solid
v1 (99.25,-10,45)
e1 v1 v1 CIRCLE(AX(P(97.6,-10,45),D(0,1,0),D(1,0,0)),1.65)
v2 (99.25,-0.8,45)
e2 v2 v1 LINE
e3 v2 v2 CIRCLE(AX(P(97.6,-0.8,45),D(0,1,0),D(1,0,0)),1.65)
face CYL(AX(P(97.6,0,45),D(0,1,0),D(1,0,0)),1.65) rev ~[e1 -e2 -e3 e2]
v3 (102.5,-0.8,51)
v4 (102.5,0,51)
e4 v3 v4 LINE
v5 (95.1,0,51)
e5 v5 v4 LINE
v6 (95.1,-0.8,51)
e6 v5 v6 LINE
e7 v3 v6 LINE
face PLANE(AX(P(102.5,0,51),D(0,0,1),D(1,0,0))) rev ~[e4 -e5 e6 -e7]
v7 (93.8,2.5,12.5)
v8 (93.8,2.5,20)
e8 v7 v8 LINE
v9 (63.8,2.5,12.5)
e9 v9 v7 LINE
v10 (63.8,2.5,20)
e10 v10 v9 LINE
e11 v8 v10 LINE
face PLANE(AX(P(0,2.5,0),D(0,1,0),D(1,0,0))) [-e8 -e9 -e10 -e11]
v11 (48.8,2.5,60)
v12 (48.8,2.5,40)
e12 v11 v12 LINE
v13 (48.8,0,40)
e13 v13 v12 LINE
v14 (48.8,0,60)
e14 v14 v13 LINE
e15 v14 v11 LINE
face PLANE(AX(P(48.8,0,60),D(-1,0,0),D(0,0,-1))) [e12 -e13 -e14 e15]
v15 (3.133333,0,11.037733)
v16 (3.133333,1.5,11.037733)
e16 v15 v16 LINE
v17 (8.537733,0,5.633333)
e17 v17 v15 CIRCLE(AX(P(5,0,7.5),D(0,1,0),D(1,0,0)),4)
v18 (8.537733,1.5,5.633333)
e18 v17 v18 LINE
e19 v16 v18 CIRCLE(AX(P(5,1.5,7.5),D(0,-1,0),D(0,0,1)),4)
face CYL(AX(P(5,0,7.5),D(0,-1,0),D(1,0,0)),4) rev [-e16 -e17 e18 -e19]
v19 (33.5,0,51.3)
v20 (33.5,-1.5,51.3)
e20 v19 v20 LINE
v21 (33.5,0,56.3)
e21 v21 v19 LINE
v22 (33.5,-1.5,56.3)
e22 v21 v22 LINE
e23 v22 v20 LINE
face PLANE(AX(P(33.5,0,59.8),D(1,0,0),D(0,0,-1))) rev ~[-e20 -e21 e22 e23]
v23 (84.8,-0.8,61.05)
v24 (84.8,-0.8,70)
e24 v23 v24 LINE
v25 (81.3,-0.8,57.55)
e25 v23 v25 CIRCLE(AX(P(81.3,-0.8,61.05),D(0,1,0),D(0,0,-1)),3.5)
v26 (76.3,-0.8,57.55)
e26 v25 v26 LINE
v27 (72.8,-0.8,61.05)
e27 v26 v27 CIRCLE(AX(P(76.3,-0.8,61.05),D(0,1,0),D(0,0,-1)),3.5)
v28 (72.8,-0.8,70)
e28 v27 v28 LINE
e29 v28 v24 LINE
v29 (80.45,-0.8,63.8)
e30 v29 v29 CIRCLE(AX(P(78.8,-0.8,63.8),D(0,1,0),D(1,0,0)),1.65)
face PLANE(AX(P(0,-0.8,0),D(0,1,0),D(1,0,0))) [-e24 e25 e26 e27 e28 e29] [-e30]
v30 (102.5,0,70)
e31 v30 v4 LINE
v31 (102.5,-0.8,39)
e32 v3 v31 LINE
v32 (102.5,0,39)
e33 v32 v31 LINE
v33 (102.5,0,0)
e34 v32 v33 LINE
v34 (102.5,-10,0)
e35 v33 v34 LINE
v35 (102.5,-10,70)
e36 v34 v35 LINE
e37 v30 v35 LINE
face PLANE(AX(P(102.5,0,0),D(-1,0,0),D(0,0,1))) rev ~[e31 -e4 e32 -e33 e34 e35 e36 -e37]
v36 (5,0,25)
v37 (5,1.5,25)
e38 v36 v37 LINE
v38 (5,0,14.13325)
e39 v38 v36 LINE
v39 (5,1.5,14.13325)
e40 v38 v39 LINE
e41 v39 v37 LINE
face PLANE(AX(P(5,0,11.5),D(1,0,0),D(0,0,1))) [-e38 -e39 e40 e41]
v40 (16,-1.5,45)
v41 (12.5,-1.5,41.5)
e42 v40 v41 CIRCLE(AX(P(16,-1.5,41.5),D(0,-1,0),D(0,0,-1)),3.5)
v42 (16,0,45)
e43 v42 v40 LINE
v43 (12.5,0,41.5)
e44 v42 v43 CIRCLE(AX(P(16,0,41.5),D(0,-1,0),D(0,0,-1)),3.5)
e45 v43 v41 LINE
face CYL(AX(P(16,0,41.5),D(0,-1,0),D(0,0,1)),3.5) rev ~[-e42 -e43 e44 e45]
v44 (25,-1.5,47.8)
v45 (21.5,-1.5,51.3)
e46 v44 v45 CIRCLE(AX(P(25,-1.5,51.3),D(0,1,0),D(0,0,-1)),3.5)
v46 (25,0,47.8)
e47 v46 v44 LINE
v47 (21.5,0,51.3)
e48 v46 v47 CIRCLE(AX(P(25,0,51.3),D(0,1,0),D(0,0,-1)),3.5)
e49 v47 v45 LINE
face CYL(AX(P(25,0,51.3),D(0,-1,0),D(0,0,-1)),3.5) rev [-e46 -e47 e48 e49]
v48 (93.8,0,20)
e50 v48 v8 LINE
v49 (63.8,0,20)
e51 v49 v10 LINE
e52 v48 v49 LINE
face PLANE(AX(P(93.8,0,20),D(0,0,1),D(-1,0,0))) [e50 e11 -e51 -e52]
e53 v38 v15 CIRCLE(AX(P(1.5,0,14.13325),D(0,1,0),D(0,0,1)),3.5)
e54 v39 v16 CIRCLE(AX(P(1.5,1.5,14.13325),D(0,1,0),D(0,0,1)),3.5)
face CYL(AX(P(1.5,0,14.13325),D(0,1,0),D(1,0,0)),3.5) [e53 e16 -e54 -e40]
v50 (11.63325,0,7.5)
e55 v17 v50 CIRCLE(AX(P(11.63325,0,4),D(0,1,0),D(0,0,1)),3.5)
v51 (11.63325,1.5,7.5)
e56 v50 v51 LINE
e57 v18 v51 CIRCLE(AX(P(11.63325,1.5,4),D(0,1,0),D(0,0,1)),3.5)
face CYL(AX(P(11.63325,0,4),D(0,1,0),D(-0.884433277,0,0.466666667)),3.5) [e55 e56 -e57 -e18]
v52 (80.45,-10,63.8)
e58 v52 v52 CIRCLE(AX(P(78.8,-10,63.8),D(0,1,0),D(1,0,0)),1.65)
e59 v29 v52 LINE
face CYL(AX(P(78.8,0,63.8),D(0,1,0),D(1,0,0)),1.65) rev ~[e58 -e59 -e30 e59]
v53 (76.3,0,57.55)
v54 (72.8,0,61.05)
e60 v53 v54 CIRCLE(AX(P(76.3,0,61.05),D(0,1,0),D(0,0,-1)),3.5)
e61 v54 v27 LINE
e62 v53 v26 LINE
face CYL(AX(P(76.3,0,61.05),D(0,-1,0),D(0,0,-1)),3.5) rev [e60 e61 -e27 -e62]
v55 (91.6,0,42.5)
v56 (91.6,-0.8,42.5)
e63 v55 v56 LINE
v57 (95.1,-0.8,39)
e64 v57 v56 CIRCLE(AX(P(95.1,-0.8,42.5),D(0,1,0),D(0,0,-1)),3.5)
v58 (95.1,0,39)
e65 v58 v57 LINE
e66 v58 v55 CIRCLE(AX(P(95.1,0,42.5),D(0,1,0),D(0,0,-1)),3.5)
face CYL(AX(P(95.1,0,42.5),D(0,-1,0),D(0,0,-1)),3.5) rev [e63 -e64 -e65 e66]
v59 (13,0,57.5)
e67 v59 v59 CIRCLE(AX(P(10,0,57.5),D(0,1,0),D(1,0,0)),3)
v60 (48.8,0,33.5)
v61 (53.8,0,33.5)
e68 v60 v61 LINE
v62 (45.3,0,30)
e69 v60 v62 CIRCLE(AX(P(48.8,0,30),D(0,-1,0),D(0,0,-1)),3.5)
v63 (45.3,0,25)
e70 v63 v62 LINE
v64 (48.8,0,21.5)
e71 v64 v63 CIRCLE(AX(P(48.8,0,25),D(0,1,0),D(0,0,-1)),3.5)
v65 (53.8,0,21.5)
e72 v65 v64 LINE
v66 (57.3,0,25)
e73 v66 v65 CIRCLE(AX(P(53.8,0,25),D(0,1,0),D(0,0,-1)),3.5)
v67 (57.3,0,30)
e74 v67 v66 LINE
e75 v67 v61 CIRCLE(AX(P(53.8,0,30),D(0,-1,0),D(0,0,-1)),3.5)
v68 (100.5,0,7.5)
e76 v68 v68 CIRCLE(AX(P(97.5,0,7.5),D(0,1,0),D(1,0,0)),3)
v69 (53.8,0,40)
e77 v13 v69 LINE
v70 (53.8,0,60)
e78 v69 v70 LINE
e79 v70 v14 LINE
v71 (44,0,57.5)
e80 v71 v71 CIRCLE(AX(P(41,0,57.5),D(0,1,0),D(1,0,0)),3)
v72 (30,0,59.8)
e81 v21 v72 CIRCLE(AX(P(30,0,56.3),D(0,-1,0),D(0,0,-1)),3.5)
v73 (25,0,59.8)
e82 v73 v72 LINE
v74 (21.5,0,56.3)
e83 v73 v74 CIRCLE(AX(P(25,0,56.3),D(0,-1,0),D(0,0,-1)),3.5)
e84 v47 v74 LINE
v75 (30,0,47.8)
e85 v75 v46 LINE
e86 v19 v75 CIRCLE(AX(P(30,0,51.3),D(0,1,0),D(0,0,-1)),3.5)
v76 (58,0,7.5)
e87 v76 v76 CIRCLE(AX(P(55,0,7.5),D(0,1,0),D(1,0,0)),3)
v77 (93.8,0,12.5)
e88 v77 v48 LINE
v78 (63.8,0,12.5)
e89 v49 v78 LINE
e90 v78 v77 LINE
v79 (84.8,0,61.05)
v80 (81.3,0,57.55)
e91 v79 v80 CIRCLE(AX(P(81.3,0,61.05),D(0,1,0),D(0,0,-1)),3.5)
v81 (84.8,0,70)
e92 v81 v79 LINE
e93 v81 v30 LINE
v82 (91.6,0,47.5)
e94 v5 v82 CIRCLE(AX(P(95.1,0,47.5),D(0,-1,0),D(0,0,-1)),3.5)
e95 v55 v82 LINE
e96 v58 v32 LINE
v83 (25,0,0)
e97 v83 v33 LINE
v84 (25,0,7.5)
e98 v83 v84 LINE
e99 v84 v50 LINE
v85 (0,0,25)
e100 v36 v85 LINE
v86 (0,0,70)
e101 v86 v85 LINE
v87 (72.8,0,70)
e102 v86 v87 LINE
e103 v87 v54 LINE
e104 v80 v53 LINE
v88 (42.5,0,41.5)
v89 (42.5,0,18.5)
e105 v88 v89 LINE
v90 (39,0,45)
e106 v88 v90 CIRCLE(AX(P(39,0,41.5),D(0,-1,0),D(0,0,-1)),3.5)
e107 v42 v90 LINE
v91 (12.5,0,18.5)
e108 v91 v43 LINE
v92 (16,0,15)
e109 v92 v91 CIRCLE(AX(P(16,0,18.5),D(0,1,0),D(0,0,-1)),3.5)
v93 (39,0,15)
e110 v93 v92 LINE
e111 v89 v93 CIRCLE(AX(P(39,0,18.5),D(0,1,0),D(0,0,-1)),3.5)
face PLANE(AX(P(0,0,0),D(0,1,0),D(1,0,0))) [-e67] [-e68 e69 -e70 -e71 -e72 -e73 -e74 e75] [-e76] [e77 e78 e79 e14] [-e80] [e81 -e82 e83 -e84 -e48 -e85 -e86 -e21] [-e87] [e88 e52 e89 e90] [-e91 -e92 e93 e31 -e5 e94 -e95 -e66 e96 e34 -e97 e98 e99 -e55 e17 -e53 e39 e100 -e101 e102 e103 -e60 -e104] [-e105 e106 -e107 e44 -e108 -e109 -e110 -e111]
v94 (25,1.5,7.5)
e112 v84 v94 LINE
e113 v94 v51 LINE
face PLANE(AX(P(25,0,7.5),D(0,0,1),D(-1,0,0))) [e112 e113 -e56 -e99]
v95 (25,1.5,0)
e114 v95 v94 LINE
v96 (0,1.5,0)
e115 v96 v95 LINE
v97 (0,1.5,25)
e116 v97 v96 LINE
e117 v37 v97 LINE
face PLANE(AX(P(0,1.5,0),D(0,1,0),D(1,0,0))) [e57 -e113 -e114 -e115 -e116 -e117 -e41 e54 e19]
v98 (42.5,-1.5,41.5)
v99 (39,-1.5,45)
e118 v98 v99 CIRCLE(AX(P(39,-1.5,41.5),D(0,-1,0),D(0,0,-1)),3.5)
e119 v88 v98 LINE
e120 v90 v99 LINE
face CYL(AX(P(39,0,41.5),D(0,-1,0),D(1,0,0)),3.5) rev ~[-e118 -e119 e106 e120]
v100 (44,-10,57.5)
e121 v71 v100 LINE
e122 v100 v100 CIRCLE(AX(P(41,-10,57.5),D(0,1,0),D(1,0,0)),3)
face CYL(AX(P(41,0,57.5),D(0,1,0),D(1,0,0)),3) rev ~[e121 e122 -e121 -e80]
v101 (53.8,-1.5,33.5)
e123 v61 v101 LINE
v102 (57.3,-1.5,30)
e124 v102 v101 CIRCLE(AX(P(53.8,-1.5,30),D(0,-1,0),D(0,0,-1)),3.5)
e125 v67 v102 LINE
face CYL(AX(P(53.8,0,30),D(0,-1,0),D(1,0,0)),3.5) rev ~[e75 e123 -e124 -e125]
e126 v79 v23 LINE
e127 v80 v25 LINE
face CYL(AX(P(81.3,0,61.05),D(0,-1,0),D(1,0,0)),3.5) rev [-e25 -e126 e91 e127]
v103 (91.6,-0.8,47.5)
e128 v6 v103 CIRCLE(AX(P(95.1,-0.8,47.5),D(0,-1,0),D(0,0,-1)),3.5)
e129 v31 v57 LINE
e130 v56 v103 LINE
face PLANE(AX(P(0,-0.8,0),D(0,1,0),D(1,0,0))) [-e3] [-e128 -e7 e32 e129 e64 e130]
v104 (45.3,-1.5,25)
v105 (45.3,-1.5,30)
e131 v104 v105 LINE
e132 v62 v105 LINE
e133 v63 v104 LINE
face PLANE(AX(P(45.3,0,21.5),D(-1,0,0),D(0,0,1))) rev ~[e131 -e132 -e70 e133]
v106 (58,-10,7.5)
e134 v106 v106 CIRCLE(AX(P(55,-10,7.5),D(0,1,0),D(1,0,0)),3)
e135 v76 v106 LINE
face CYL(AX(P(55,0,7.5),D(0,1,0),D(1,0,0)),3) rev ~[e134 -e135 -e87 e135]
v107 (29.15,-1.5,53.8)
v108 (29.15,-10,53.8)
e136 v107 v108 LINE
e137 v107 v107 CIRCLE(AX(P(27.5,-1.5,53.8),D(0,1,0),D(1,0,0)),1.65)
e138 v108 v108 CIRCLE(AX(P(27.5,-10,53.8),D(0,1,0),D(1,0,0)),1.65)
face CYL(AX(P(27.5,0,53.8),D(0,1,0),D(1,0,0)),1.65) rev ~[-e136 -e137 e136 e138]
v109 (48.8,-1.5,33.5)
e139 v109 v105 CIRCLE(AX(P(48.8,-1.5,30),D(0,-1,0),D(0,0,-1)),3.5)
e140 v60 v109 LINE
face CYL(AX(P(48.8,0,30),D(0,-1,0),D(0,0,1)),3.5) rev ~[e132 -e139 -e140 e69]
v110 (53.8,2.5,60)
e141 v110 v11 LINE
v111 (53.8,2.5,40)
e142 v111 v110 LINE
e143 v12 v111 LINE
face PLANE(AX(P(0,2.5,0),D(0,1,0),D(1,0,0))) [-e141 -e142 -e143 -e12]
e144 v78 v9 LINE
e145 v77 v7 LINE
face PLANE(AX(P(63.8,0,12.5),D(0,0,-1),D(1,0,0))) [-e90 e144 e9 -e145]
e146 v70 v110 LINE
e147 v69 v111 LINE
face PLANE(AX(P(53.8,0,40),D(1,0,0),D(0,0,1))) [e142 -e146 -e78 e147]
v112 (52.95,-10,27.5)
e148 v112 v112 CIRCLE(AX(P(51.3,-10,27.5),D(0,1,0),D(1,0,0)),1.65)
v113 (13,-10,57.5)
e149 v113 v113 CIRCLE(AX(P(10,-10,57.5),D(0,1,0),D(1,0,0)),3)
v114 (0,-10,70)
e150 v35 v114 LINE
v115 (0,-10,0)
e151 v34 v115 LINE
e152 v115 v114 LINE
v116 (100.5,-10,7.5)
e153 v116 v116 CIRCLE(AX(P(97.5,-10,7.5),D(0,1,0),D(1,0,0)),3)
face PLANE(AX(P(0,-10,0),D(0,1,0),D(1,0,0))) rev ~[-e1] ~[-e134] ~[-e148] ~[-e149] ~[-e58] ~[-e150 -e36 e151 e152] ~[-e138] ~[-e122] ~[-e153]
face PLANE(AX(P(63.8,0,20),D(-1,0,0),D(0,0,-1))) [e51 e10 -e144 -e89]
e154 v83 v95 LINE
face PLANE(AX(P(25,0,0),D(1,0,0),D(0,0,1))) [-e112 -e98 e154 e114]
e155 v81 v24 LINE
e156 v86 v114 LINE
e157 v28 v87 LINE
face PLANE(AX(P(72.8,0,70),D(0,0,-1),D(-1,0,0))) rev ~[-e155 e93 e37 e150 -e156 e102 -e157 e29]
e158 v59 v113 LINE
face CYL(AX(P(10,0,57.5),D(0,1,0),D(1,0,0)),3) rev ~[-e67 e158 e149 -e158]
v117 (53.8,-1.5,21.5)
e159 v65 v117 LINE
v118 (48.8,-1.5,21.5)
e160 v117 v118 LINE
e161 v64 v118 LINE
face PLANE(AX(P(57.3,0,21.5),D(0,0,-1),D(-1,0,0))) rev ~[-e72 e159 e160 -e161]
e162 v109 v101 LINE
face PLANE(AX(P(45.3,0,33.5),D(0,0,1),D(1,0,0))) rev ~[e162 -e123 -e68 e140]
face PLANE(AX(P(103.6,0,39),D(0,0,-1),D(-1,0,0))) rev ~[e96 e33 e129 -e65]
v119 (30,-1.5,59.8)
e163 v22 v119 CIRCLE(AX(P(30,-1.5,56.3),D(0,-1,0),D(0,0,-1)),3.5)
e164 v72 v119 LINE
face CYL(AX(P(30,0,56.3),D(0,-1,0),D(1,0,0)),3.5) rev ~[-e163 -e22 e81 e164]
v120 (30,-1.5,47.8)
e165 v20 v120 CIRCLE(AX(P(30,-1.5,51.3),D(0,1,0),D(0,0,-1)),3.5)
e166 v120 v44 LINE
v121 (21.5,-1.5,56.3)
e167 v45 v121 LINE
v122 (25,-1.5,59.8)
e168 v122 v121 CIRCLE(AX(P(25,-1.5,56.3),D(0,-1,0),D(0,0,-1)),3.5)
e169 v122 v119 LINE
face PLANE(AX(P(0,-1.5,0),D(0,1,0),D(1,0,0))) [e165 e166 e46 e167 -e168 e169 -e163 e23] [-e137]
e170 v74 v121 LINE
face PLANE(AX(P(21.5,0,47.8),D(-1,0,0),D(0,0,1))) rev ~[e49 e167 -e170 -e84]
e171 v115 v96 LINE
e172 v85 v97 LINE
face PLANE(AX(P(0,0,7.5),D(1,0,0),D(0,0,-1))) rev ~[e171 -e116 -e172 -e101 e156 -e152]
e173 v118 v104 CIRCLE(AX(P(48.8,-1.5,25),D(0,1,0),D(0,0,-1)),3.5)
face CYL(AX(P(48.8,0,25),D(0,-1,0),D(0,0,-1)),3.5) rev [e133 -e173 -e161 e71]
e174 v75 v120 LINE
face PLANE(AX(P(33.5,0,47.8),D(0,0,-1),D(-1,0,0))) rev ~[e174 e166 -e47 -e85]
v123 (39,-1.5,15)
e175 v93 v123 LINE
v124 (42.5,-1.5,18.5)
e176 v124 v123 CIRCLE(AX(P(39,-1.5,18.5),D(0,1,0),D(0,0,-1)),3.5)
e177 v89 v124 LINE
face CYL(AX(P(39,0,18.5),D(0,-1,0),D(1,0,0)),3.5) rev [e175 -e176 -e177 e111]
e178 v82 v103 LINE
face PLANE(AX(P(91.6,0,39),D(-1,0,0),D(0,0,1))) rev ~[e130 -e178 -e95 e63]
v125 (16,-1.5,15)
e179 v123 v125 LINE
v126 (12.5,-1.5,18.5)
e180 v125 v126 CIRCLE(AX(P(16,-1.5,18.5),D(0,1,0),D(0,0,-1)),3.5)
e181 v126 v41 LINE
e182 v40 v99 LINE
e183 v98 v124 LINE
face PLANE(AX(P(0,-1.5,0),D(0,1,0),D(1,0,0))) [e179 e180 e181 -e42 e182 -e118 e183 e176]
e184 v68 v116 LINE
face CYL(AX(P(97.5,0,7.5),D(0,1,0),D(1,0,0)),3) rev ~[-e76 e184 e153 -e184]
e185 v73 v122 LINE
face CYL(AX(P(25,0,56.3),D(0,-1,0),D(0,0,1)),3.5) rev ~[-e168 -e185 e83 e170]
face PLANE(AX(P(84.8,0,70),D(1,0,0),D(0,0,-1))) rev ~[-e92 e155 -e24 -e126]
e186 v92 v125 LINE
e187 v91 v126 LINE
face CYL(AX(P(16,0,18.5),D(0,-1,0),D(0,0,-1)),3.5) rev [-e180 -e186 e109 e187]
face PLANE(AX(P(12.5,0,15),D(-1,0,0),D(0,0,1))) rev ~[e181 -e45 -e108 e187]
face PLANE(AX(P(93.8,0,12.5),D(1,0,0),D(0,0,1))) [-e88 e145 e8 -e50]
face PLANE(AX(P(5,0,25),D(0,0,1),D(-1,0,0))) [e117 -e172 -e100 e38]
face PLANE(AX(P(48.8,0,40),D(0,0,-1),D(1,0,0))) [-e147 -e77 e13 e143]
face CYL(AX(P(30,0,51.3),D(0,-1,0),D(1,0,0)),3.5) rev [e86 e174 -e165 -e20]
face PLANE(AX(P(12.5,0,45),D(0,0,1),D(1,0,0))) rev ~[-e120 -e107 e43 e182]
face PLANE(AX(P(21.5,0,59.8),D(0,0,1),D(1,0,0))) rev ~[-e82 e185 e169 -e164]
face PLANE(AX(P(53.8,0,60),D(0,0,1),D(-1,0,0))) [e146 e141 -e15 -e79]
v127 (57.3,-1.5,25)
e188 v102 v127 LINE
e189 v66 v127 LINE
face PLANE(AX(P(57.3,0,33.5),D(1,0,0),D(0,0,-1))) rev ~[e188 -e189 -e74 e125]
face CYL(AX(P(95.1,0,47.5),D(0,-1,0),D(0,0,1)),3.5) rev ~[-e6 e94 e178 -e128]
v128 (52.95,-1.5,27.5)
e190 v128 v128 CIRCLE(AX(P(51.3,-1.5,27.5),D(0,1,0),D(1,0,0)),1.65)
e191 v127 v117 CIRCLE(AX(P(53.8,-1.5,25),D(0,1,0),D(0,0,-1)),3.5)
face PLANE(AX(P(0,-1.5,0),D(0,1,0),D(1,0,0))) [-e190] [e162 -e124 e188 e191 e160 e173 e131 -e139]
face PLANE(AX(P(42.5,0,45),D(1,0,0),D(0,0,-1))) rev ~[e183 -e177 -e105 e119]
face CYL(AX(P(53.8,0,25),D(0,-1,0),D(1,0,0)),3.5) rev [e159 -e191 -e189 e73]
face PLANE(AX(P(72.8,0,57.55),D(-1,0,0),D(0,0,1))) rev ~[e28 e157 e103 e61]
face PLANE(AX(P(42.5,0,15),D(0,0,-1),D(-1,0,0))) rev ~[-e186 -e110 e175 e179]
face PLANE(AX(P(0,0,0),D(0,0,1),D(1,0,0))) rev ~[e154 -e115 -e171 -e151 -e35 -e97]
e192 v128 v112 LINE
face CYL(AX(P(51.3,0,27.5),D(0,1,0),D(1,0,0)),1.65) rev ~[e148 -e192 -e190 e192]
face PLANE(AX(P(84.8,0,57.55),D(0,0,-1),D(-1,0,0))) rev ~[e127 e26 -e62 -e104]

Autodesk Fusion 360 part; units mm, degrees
sketch "Skizze1" plane through (0, 0, 0) normal (0, 1, 0) x (1, 0, 0)
  line L0 (0, 0) -> (102.5, 0)
  line L1 (102.5, 0) -> (102.5, -70)
  line L2 (102.5, -70) -> (0, -70)
  line L3 (0, -70) -> (0, 0)
  line L4 (0, 0) -> (5, 0)
  line L5 (5, 0) -> (5, -25)
  line L6 (5, -25) -> (0, -25)
  line L7 (0, -25) -> (0, 0)
  line L8 (0, 0) -> (25, 0)
  line L9 (25, 0) -> (25, -7.5)
  line L10 (25, -7.5) -> (0, -7.5)
  line L11 (0, -7.5) -> (0, 0)
  circle A0 centre (5, -7.5) radius 4
  circle A1 centre (27.5, -53.8) radius 1.65
  circle A2 centre (51.3, -27.5) radius 1.65
  line L12 (55.1, -25.926) -> (52.874, -23.7)
  line L13 (52.874, -23.7) -> (49.726, -23.7)
  line L14 (49.726, -23.7) -> (47.5, -25.926)
  line L15 (47.5, -25.926) -> (47.5, -29.074)
  line L16 (47.5, -29.074) -> (49.726, -31.3)
  line L17 (49.726, -31.3) -> (52.874, -31.3)
  line L18 (52.874, -31.3) -> (55.1, -29.074)
  line L19 (55.1, -29.074) -> (55.1, -25.926)
  line L20 (31.3, -52.226) -> (29.074, -50)
  line L21 (29.074, -50) -> (25.926, -50)
  line L22 (25.926, -50) -> (23.7, -52.226)
  line L23 (23.7, -52.226) -> (23.7, -55.374)
  line L24 (23.7, -55.374) -> (25.926, -57.6)
  line L25 (25.926, -57.6) -> (29.074, -57.6)
  line L26 (29.074, -57.6) -> (31.3, -55.374)
  line L27 (31.3, -55.374) -> (31.3, -52.226)
  line L28 (57.3, -21.5) -> (45.3, -21.5)
  line L29 (45.3, -21.5) -> (45.3, -33.5)
  line L30 (45.3, -33.5) -> (57.3, -33.5)
  line L31 (57.3, -33.5) -> (57.3, -21.5)
  line L32 (57.3, -21.5) -> (45.3, -33.5) construction
  line L33 (45.3, -21.5) -> (57.3, -33.5) construction
  line L34 (33.5, -47.8) -> (21.5, -47.8)
  line L35 (21.5, -47.8) -> (21.5, -59.8)
  line L36 (21.5, -59.8) -> (33.5, -59.8)
  line L37 (33.5, -59.8) -> (33.5, -47.8)
  line L38 (33.5, -47.8) -> (21.5, -59.8) construction
  line L39 (21.5, -47.8) -> (33.5, -59.8) construction
  circle A3 centre (55, -7.5) radius 3
  circle A4 centre (10, -57.5) radius 3
  line L40 (48.8, -40) -> (53.8, -40)
  line L41 (53.8, -40) -> (53.8, -60)
  line L42 (53.8, -60) -> (48.8, -60)
  line L43 (48.8, -60) -> (48.8, -40)
  line L44 (63.8, -12.5) -> (93.8, -12.5)
  line L45 (93.8, -12.5) -> (93.8, -20)
  line L46 (93.8, -20) -> (63.8, -20)
  line L47 (63.8, -20) -> (63.8, -12.5)
  line L48 (77.226, -60) -> (75, -62.226)
  circle A5 centre (78.8, -63.8) radius 1.65
  line L49 (75, -65.374) -> (77.226, -67.6)
  line L50 (80.374, -67.6) -> (82.6, -65.374)
  line L51 (72.8, -57.55) -> (72.8, -70.05)
  line L52 (75, -62.226) -> (75, -65.374)
  line L53 (84.8, -70.05) -> (84.8, -57.55)
  line L54 (84.8, -57.55) -> (72.8, -57.55)
  line L55 (72.8, -57.55) -> (84.8, -70.05) construction
  line L56 (82.6, -62.226) -> (80.374, -60)
  line L57 (77.226, -67.6) -> (80.374, -67.6)
  line L58 (80.374, -60) -> (77.226, -60)
  line L59 (82.6, -65.374) -> (82.6, -62.226)
  line L60 (72.8, -70.05) -> (84.8, -70.05)
  line L61 (84.8, -57.55) -> (72.8, -70.05) construction
  line L62 (96.026, -41.2) -> (93.8, -43.426)
  circle A6 centre (97.6, -45) radius 1.65
  line L63 (93.8, -46.574) -> (96.026, -48.8)
  line L64 (99.174, -48.8) -> (101.4, -46.574)
  line L65 (91.6, -39) -> (91.6, -51)
  line L66 (93.8, -43.426) -> (93.8, -46.574)
  line L67 (103.6, -51) -> (103.6, -39)
  line L68 (103.6, -39) -> (91.6, -39)
  line L69 (91.6, -39) -> (103.6, -51) construction
  line L70 (101.4, -43.426) -> (99.174, -41.2)
  line L71 (96.026, -48.8) -> (99.174, -48.8)
  line L72 (99.174, -41.2) -> (96.026, -41.2)
  line L73 (101.4, -46.574) -> (101.4, -43.426)
  line L74 (91.6, -51) -> (103.6, -51)
  line L75 (103.6, -39) -> (91.6, -51) construction
  line L76 (42.5, -15) -> (12.5, -15)
  line L77 (12.5, -15) -> (12.5, -45)
  line L78 (12.5, -45) -> (42.5, -45)
  line L79 (42.5, -45) -> (42.5, -15)
  line L80 (42.5, -15) -> (12.5, -45) construction
  line L81 (12.5, -15) -> (42.5, -45) construction
  circle A7 centre (41, -57.5) radius 3
  circle A8 centre (97.5, -7.5) radius 3
  point P0 (51.3, -27.5)
  point P1 (27.5, -53.8)
  point P2 (51.3, -27.5)
  point P3 (27.5, -53.8)
  point P4 (78.8, -63.8)
  point P5 (78.8, -63.8)
  point P6 (97.6, -45)
  point P7 (97.6, -45)
  point P8 (27.5, -30)
  dimension "d1" = 102.5
  dimension "d2" = 70
  dimension "d3" = 5
  dimension "d4" = 25
  dimension "d5" = 25
  dimension "d6" = 7.5
  dimension "d7" = 8
  dimension "d8" = 3.3
  dimension "d9" = 46.3
  dimension "d11" = 3.3
  dimension "d13" = 46.3
  dimension "d14" = 20
  dimension "d15" = 22.5
  dimension "d16" = 3.8
  dimension "d17" = 3.8
  dimension "d18" = 12
  dimension "d19" = 12
  dimension "d20" = 12
  dimension "d21" = 12
  dimension "d34" = 6
  dimension "d35" = 6
  dimension "d36" = 7.5
  dimension "d37" = 55
  dimension "d38" = 50
  dimension "d39" = 10
  dimension "d40" = 5
  dimension "d41" = 20
  dimension "d42" = 2.5
  dimension "d43" = 60
  dimension "d44" = 30
  dimension "d45" = 7.5
  dimension "d47" = 10
  dimension "d48" = 3.3
  dimension "d49" = 3.8
  dimension "d50" = 12
  dimension "d51" = 12.5
  dimension "d52" = 43.8
  dimension "d53" = 15
  dimension "d54" = 3.3
  dimension "d55" = 3.8
  dimension "d56" = 12
  dimension "d57" = 12
  dimension "d58" = 43.8
  dimension "d59" = 15
  dimension "d84" = 20
  dimension "d85" = 30
  dimension "d86" = 30
  dimension "d87" = 22.5
  dimension "d88" = 22.5
  dimension "d131" = 6
  dimension "d132" = 50
  dimension "d133" = 31
  dimension "d134" = 6
  dimension "d135" = 7.5
  dimension "d136" = 5
extrude "Extrusion1" add sketch "Skizze1" against normal blind 10 contours L0 L3 L4 L5 L7 L8 L10 L11 A0 | L0 L5 L8 L9 L10 A0 | L3 L5 L6 L7 L10 A0 | L0 L1 L2 L3 L5 L6 L9 L10 A0 L51 L53 L54 L65 L68 L74 | L5 L10 A0 | L5 L10 A0 | L5 L10 A0 | L5 L10 A0 | L1 L65 L68 L74 | L2 L51 L53 L54 | L12 L13 L14 L15 L16 L17 L18 L19 | L20 L21 L22 L23 L24 L25 L26 L27 | L28 L29 L30 L31 | L34 L35 L36 L37 | L40 L41 L42 L43 | L44 L45 L46 L47 | L48 L49 L50 L52 L56 L57 L58 L59 | L62 L63 L64 L66 L70 L71 L72 L73 | L76 L77 L78 L79 makes body 1
extrude "Extrusion2" add sketch "Skizze1" along normal blind 1.5 contours L0 L3 L4 L5 L7 L8 L10 L11 A0 | L0 L5 L8 L9 L10 A0 | L3 L5 L6 L7 L10 A0 bodies 1
extrude "Extrusion3" cut sketch "Skizze1" against normal blind 1.5 contours A1 | A2 | L12 L13 L14 L15 L16 L17 L18 L19 | L20 L21 L22 L23 L24 L25 L26 L27 | L28 L29 L30 L31 | L34 L35 L36 L37 | L76 L77 L78 L79 bodies 1
extrude "Extrusion5" add sketch "Skizze1" along normal blind 2.5 contours L40 L41 L42 L43 | L44 L45 L46 L47 bodies 1
extrude "Extrusion6" cut sketch "Skizze1" against normal blind 0.8 contours L1 L67 L68 L74 | L1 L65 L68 L74 | L2 L51 L53 L54 | L2 L51 L53 L60 | L48 L49 L50 L52 L56 L57 L58 L59 | L62 L63 L64 L66 L70 L71 L72 L73 bodies 1
fillet "Abrundung1" radius 3.5 10 edges at (21.5, -0.75, 59.8) (45.3, -0.75, 33.5) (57.3, -0.75, 33.5) (33.5, -0.75, 59.8) (57.3, -0.75, 21.5) (33.5, -0.75, 47.8) (45.3, -0.75, 21.5) (21.5, -0.75, 47.8) (9, 0.75, 7.5) (5, 0.75, 11.5) on bodies 1
fillet "Abrundung1" radius 3.5 7 edges at (42.5, -0.75, 15) (42.5, -0.75, 45) (12.5, -0.75, 45) (12.5, -0.75, 15) (72.8, -0.4, 57.55) (91.6, -0.4, 39) (84.8, -0.4, 57.55) on bodies 1
fillet "Abrundung1" radius 3.5 1 edges at (91.6, -0.4, 51) on bodies 1
copy_body "Körper->Berechn1" bodies 1 removing the originals makes body 2 in component "Fixture"
component "Fixture" placed x (1, 0, 0) y (0, 1, 0) z (0, 0, 1) at (0, 0, 0)
equation "d9 = 3.8 mm + 42.5 mm"
equation "d13 = d9"
equation "d52 = 40 mm + 3.8 mm"
equation "d58 = d52"
equation "d62 = -2.8 mm + 2 mm"
equation "d132 = d38"
